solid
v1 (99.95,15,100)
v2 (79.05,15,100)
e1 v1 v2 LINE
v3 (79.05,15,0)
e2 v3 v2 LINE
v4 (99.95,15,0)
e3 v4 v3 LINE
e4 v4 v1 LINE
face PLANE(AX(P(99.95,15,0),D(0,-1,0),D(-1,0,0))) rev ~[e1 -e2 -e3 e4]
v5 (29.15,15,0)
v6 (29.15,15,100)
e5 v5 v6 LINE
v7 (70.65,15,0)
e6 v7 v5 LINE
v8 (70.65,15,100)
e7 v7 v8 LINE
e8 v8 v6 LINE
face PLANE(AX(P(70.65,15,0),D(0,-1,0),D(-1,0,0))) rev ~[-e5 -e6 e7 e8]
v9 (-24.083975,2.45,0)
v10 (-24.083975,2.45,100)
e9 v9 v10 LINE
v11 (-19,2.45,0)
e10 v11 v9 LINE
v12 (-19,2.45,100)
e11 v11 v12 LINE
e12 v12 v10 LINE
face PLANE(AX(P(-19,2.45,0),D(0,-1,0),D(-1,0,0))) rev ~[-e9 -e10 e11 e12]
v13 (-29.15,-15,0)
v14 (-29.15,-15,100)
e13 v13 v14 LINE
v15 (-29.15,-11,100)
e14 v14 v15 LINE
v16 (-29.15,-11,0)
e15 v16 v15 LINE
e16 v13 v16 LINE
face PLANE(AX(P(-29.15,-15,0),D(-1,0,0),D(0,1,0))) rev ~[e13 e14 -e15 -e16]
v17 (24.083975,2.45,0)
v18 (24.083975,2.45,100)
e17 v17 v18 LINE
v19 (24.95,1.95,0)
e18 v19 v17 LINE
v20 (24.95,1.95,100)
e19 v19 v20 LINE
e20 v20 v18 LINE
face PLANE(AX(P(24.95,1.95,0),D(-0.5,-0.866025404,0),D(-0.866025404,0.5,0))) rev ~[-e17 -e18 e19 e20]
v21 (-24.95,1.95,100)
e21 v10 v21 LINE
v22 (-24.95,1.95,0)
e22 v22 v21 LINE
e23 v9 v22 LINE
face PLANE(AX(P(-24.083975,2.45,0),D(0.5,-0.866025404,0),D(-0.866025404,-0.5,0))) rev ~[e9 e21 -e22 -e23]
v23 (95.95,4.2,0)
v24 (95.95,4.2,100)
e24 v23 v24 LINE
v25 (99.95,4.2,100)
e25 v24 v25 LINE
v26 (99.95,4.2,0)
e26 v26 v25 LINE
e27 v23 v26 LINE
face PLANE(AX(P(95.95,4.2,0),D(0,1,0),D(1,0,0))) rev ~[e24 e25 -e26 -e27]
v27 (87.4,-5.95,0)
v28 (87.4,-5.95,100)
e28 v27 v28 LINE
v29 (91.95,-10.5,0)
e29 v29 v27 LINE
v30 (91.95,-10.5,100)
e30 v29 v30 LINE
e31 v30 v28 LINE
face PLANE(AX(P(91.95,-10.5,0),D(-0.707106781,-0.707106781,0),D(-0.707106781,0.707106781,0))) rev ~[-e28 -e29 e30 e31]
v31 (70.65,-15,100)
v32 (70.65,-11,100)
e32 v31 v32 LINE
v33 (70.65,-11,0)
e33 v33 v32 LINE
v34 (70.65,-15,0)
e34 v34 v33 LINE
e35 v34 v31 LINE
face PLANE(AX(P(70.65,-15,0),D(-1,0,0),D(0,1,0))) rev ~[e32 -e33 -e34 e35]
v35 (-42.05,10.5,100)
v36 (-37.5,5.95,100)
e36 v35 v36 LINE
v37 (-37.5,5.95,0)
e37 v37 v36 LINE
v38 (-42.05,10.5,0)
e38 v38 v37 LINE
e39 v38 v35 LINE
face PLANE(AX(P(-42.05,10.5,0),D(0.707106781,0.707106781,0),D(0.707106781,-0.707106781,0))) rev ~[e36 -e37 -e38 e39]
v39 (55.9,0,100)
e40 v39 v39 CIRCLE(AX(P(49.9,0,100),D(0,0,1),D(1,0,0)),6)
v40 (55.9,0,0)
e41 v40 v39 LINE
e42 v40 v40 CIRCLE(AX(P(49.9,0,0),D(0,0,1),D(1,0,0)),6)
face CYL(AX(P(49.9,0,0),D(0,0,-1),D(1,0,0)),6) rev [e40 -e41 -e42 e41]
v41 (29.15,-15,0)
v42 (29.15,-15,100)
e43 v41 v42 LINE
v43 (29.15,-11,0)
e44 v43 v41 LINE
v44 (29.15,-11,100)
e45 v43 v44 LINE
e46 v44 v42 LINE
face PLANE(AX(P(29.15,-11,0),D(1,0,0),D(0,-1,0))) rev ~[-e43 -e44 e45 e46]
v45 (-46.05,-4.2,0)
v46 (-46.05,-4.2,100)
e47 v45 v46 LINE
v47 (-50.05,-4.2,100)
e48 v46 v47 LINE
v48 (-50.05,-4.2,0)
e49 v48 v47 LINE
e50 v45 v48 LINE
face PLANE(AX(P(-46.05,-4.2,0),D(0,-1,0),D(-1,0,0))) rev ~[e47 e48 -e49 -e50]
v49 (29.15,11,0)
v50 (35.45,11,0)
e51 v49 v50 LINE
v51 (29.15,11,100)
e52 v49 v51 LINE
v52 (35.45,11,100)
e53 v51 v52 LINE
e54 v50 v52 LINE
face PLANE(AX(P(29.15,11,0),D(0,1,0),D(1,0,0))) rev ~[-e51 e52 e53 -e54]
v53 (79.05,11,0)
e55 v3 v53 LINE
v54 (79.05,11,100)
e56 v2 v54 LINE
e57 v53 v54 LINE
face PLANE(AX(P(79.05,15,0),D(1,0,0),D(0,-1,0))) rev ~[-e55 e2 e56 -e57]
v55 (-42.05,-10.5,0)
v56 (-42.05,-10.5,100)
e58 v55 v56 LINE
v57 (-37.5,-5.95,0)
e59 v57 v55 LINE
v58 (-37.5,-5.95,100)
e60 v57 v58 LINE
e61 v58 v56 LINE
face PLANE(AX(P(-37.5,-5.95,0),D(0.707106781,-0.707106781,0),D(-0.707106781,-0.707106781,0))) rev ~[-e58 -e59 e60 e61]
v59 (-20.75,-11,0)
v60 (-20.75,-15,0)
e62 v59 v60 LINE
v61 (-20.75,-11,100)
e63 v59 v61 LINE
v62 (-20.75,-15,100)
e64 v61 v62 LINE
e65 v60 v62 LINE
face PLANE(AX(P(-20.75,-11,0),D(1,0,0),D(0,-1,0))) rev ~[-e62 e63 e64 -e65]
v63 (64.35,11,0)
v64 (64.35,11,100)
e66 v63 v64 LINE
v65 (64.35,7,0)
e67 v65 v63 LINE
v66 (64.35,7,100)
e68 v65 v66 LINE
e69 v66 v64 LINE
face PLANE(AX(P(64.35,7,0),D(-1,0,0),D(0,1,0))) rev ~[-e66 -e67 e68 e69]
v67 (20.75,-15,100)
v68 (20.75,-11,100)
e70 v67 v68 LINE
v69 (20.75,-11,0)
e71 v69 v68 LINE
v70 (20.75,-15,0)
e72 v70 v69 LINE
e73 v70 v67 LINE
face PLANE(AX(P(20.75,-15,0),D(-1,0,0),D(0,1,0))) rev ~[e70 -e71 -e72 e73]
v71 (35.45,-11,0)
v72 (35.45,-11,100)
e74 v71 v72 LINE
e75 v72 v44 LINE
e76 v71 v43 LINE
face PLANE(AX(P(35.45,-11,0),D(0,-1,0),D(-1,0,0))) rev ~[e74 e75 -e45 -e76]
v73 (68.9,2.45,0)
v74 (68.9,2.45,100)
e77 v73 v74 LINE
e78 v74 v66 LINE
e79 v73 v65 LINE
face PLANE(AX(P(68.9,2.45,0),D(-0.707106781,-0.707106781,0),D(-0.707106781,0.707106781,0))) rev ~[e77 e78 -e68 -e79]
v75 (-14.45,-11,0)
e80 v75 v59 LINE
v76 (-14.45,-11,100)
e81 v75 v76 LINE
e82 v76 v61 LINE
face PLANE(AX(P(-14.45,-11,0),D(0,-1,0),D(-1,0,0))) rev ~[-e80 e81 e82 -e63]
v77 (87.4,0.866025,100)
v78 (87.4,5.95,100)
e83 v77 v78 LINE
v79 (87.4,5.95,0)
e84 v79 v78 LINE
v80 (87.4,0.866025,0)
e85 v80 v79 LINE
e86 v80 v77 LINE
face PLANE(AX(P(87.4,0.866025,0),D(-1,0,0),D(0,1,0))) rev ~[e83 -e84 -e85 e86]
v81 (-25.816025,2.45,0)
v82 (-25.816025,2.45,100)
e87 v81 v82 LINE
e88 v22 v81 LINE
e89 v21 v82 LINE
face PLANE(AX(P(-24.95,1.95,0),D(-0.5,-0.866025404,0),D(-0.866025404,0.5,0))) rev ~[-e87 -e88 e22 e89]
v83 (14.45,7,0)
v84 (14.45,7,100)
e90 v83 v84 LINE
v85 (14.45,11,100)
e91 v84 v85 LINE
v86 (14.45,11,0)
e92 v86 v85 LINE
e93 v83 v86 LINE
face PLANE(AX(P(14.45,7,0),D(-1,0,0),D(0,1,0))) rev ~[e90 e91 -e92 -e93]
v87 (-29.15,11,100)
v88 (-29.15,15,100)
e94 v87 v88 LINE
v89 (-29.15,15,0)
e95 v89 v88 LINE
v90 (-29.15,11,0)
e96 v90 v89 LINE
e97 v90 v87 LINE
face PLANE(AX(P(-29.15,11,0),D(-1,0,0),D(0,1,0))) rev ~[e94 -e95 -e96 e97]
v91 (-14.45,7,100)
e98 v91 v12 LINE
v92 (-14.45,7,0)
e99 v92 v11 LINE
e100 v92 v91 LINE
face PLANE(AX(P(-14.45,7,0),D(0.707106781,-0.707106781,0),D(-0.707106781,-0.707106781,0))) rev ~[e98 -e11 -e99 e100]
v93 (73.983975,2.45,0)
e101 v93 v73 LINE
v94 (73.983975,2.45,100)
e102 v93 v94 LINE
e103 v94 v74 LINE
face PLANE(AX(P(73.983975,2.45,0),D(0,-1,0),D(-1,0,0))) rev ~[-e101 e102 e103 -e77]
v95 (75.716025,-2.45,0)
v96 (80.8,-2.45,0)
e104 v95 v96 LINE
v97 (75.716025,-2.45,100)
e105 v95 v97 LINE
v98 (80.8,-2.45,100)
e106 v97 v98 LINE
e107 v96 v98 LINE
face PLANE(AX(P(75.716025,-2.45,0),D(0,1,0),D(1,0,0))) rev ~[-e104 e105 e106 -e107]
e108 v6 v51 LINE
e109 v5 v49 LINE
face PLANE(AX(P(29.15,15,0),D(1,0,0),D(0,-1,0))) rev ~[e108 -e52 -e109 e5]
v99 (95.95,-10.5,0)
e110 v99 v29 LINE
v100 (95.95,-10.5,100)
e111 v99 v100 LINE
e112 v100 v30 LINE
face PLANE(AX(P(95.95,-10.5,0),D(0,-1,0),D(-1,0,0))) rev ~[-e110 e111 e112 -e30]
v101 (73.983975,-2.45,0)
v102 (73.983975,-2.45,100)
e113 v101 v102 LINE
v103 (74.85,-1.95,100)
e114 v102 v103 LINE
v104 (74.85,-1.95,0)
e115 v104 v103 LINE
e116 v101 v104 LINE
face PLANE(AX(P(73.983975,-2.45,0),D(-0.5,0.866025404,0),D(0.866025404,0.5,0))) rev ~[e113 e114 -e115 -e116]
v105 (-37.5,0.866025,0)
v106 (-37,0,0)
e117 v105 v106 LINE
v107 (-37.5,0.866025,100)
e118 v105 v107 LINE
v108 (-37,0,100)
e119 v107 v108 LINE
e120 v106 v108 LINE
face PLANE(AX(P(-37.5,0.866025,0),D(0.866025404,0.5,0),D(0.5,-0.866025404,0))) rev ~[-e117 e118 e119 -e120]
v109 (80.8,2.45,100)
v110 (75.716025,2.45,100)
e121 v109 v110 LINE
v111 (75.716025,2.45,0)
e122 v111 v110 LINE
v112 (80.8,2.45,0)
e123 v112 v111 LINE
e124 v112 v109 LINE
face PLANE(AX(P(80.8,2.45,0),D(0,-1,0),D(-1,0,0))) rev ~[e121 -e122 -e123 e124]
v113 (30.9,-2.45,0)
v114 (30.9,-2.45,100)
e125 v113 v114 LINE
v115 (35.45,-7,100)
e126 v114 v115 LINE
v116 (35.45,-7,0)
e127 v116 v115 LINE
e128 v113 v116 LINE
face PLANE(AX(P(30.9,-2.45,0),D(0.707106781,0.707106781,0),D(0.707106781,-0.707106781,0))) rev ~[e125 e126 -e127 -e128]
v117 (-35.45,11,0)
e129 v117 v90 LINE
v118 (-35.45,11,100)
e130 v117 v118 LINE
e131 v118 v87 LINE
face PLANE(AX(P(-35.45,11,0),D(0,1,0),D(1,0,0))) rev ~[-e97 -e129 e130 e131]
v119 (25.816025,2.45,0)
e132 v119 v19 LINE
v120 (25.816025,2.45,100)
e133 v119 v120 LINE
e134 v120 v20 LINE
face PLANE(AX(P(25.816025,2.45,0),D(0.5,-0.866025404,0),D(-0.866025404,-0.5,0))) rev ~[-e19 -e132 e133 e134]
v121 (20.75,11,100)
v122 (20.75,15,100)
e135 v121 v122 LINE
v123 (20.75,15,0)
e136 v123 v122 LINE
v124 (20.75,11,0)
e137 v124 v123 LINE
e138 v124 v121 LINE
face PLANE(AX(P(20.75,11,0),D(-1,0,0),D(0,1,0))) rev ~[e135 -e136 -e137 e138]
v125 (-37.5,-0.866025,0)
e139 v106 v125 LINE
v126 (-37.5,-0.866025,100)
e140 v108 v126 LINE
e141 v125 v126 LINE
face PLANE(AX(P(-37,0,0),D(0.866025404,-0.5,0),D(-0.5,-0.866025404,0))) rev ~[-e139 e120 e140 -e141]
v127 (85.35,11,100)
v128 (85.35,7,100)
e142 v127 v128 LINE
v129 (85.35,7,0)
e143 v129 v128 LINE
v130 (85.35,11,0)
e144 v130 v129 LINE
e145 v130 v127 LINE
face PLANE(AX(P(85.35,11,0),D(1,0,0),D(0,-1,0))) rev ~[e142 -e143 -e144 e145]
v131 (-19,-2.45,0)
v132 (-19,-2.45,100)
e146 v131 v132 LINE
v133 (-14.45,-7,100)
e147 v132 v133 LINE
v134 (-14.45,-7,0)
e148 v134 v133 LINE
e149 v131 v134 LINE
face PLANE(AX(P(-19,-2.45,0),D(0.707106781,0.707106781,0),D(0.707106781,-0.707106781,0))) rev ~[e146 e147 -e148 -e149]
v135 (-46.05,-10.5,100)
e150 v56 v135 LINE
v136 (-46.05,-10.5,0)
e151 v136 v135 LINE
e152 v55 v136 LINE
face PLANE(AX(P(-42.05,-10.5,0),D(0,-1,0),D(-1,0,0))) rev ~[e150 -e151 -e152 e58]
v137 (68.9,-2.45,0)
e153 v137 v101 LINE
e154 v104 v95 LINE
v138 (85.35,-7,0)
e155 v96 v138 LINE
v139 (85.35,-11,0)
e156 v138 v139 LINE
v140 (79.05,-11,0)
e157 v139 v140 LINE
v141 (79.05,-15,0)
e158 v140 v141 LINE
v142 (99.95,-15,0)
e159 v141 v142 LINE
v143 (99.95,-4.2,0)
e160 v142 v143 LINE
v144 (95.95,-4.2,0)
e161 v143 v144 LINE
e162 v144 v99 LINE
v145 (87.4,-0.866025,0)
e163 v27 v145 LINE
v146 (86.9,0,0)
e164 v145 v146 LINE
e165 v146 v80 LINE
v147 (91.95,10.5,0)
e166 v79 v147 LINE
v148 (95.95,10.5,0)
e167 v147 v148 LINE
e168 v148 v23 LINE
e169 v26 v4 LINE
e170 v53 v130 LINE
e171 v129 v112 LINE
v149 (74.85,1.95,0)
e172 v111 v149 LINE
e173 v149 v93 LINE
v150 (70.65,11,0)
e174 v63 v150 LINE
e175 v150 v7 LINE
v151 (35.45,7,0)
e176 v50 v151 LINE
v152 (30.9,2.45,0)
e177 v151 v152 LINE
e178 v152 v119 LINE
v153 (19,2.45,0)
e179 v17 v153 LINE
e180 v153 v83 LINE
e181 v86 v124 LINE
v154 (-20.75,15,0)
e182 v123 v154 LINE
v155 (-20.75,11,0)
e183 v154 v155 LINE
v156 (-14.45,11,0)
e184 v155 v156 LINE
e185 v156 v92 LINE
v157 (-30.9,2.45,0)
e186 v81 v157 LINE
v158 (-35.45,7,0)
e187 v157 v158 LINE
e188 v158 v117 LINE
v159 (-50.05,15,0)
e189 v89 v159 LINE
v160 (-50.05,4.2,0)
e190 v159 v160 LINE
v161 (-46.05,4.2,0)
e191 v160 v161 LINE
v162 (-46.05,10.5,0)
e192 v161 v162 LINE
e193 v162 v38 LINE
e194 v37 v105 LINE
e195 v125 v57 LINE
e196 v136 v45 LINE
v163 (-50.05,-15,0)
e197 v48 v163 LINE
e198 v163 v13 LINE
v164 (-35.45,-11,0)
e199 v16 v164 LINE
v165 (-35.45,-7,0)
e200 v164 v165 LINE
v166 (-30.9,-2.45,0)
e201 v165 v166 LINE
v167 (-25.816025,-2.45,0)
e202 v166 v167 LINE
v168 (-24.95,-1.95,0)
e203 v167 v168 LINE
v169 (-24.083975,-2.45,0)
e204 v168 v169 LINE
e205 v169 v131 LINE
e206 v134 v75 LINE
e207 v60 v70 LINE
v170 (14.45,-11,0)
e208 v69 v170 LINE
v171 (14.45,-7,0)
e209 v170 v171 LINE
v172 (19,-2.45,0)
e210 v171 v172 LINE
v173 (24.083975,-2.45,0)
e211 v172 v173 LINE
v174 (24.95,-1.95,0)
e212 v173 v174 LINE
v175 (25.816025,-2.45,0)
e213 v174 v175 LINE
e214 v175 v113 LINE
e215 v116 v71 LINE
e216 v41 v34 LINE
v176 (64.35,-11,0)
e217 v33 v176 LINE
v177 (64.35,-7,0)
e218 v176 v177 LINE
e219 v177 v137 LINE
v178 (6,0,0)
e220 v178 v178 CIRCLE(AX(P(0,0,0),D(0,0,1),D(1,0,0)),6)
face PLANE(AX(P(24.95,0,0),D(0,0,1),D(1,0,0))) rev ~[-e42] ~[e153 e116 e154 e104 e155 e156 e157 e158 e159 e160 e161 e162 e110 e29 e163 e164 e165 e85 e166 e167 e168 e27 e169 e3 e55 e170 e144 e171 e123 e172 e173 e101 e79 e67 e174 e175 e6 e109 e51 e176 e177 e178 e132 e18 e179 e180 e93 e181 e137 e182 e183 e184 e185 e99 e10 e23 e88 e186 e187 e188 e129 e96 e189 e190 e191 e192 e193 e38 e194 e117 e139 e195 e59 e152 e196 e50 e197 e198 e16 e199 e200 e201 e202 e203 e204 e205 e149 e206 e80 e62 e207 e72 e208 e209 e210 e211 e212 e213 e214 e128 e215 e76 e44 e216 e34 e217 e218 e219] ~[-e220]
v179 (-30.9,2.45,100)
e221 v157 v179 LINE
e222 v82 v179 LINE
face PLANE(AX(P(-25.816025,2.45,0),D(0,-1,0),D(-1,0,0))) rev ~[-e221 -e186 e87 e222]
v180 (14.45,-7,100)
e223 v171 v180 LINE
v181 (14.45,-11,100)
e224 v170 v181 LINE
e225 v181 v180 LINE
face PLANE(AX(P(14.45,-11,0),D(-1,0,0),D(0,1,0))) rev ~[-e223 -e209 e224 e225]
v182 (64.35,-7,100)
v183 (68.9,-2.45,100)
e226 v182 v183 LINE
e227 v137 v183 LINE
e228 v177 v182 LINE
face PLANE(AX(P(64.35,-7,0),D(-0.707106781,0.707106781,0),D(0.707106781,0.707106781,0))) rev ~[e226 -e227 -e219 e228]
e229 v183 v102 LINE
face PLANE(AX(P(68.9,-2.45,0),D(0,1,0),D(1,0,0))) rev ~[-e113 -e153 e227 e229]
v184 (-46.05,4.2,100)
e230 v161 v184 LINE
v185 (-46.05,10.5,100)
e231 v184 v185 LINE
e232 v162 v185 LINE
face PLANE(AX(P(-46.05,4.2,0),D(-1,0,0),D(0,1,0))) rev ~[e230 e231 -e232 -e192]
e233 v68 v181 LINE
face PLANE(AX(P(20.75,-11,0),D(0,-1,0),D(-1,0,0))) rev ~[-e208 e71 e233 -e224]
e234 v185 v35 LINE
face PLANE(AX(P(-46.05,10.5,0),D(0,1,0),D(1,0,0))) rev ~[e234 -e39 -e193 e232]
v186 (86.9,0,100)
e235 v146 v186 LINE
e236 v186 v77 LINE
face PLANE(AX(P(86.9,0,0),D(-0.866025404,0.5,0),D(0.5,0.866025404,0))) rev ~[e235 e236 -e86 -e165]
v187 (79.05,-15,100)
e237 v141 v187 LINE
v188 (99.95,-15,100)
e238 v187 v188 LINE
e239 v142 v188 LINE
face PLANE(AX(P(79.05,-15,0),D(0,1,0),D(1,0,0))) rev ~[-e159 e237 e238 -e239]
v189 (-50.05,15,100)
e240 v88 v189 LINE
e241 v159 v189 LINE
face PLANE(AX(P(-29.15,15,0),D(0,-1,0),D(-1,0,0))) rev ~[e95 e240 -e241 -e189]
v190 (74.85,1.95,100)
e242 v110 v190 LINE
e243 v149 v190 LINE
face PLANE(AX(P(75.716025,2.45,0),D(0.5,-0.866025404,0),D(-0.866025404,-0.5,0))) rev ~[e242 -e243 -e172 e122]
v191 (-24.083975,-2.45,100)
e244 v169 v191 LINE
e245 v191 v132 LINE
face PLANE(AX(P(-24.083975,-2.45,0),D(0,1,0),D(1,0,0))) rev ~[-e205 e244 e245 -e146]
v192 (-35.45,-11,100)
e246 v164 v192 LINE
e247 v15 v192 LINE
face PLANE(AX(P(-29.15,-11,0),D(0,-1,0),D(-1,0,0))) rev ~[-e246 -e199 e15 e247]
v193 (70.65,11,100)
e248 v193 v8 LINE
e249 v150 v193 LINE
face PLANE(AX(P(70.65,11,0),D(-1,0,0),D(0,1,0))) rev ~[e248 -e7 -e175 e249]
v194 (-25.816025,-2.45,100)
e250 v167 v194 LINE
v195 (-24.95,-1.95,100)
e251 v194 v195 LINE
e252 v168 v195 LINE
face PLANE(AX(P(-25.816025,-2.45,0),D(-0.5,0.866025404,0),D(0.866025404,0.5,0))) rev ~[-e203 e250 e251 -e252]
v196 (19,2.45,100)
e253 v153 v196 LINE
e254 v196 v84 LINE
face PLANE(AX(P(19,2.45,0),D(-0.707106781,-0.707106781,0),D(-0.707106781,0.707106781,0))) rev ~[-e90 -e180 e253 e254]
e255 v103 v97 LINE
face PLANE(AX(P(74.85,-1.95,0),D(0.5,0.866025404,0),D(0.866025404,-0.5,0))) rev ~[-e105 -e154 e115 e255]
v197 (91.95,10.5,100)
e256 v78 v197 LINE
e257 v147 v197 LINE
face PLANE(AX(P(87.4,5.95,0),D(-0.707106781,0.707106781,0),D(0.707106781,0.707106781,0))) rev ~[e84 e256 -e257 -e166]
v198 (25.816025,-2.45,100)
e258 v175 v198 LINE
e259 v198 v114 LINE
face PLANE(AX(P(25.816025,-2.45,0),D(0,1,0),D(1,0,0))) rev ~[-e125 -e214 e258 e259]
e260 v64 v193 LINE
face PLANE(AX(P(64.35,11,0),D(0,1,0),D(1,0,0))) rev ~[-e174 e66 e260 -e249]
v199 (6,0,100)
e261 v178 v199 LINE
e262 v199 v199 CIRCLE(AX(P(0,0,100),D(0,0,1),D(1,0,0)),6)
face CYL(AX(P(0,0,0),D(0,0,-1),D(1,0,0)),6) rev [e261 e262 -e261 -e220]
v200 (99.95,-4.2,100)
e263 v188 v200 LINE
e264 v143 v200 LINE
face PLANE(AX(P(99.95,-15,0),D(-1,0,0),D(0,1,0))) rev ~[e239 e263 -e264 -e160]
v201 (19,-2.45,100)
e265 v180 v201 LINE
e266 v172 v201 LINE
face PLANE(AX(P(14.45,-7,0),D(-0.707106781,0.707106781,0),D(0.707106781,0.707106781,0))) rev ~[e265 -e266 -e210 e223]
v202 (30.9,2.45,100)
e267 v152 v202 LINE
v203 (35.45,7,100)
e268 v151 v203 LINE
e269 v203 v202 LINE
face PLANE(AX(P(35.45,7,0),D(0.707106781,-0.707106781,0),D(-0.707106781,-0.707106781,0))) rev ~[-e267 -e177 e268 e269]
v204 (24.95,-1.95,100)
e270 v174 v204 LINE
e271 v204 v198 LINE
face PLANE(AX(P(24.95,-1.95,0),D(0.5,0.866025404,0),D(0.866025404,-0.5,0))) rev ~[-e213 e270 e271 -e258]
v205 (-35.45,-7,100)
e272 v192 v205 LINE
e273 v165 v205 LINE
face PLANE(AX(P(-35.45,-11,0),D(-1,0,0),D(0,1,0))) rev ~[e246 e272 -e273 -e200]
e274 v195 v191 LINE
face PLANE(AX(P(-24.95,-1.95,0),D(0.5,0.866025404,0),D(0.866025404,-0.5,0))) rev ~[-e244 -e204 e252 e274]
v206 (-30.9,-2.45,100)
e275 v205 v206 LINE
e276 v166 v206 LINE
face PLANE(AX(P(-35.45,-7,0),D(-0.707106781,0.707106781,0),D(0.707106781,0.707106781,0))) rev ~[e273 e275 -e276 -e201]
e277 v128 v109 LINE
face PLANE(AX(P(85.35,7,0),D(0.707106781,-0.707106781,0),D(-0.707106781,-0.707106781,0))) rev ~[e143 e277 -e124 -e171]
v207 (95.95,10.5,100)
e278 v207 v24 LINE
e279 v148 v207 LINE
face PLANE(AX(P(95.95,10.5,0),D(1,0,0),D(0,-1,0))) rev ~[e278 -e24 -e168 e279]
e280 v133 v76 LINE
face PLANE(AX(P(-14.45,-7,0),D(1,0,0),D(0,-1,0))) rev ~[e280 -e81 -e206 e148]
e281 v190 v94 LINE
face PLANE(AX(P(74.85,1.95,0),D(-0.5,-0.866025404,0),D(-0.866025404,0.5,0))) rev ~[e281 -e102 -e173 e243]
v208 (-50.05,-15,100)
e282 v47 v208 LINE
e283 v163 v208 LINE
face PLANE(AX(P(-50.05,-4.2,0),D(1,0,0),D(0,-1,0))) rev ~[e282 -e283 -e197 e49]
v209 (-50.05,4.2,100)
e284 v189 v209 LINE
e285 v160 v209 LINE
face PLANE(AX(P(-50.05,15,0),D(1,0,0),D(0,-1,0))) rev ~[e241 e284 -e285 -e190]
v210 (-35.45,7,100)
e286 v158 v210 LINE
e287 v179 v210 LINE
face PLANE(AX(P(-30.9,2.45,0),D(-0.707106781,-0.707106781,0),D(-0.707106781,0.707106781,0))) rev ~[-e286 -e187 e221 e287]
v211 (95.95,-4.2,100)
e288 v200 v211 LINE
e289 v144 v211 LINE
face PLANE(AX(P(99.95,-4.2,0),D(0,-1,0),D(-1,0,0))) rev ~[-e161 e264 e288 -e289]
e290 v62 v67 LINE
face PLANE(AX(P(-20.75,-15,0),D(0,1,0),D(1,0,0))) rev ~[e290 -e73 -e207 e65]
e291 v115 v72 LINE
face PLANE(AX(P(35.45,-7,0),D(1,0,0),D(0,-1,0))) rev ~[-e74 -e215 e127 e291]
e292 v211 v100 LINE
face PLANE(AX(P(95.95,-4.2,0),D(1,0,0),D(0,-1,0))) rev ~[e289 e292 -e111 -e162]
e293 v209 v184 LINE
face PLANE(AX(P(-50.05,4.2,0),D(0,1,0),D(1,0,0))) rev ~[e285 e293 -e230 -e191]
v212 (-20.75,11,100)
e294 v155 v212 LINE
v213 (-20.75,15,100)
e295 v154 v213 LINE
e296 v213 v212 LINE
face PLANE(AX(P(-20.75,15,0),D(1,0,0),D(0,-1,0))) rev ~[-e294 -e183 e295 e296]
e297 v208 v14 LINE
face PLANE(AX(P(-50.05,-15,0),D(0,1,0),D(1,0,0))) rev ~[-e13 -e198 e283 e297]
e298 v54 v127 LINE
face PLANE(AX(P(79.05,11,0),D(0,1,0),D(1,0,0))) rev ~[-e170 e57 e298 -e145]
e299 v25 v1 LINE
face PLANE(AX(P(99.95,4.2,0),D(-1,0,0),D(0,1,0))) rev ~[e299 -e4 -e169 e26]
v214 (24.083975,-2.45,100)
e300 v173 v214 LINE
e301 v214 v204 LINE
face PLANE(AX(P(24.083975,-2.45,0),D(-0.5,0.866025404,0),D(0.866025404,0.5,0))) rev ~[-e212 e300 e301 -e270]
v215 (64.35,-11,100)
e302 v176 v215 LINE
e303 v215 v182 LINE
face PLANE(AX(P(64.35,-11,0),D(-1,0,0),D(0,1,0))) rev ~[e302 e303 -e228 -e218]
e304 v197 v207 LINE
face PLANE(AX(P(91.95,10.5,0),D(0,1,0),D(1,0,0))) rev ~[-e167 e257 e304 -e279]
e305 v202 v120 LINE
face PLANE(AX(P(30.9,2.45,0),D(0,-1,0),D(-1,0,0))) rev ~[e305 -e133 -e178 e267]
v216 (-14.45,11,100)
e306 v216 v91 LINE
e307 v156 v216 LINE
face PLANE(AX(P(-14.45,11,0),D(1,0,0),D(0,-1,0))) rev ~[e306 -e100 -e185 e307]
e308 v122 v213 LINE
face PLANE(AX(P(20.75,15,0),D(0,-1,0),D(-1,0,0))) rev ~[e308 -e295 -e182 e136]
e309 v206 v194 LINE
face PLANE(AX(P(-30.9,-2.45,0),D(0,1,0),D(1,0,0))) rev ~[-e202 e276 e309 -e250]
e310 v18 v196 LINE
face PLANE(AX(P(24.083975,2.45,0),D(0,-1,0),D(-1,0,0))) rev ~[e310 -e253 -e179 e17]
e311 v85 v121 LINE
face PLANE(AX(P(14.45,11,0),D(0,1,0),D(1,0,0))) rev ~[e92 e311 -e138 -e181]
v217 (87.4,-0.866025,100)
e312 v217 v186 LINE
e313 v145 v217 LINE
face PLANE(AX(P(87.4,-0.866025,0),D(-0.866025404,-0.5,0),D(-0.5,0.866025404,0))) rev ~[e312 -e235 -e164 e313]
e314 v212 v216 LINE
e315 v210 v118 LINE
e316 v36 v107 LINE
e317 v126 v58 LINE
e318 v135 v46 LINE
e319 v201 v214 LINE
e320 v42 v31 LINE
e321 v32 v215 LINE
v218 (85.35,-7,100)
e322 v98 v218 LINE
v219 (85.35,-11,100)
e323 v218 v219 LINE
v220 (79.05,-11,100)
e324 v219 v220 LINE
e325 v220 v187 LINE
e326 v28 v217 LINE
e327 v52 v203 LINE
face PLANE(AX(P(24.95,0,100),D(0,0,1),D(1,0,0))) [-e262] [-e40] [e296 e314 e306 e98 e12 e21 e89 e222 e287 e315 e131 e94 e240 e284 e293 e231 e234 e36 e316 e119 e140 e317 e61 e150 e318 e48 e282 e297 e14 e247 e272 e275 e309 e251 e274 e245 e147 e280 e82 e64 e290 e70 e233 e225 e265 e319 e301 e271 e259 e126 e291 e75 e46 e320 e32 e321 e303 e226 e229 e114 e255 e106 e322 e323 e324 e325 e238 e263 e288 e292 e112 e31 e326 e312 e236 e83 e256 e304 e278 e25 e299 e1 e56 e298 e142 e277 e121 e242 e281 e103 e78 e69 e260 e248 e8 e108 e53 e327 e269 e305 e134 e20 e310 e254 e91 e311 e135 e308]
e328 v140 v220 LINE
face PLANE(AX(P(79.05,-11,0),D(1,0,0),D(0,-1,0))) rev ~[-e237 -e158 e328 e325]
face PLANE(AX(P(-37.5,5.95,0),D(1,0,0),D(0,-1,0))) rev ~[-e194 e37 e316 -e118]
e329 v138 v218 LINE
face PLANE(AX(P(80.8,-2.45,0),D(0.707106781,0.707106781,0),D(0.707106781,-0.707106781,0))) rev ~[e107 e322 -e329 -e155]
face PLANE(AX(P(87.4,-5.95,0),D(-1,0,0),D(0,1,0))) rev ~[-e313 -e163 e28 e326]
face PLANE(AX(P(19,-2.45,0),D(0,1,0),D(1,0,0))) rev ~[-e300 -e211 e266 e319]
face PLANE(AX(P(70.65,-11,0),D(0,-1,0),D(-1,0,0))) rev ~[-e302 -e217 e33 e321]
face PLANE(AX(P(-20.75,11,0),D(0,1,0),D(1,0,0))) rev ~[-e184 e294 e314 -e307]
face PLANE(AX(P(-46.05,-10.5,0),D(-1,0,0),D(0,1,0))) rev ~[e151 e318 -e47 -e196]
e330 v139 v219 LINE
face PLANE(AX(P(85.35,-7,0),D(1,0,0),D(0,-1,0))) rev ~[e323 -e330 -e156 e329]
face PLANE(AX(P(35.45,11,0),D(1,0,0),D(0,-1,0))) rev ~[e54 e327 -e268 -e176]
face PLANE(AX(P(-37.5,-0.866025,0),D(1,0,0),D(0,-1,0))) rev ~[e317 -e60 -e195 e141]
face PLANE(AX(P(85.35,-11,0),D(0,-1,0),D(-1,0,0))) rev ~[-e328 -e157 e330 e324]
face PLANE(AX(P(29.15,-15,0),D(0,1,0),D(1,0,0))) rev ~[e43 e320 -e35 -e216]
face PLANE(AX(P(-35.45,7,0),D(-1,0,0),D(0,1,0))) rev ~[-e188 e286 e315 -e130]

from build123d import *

# Parameters (mm, degrees)
SKETCH_1_R      = 6
EXTRUDE_1_DEPTH = 100


with BuildPart() as part:
    # 草图1 → 凸台-拉伸1 (new body)
    with BuildSketch(Plane.XY):
        Polygon((99.95, 4.2), (99.95, 15), (79.05, 15), (79.05, 11), (85.35, 11), (85.35, 7), (80.8, 2.45), (75.716025404, 2.45), (74.85, 1.95), (73.983974596, 2.45), (68.9, 2.45), (64.35, 7), (64.35, 11), (70.65, 11), (70.65, 15), (29.15, 15), (29.15, 11), (35.45, 11), (35.45, 7), (30.9, 2.45), (25.816025404, 2.45), (24.95, 1.95), (24.083974596, 2.45), (19, 2.45), (14.45, 7), (14.45, 11), (20.75, 11), (20.75, 15), (-20.75, 15), (-20.75, 11), (-14.45, 11), (-14.45, 7), (-19, 2.45), (-24.083974596, 2.45), (-24.95, 1.95), (-25.816025404, 2.45), (-30.9, 2.45), (-35.45, 7), (-35.45, 11), (-29.15, 11), (-29.15, 15), (-50.05, 15), (-50.05, 4.2), (-46.05, 4.2), (-46.05, 10.5), (-42.05, 10.5), (-37.5, 5.95), (-37.5, 0.866025404), (-37, 0), (-37.5, -0.866025404), (-37.5, -5.95), (-42.05, -10.5), (-46.05, -10.5), (-46.05, -4.2), (-50.05, -4.2), (-50.05, -15), (-29.15, -15), (-29.15, -11), (-35.45, -11), (-35.45, -7), (-30.9, -2.45), (-25.816025404, -2.45), (-24.95, -1.95), (-24.083974596, -2.45), (-19, -2.45), (-14.45, -7), (-14.45, -11), (-20.75, -11), (-20.75, -15), (20.75, -15), (20.75, -11), (14.45, -11), (14.45, -7), (19, -2.45), (24.083974596, -2.45), (24.95, -1.95), (25.816025404, -2.45), (30.9, -2.45), (35.45, -7), (35.45, -11), (29.15, -11), (29.15, -15), (70.65, -15), (70.65, -11), (64.35, -11), (64.35, -7), (68.9, -2.45), (73.983974596, -2.45), (74.85, -1.95), (75.716025404, -2.45), (80.8, -2.45), (85.35, -7), (85.35, -11), (79.05, -11), (79.05, -15), (99.95, -15), (99.95, -4.2), (95.95, -4.2), (95.95, -10.5), (91.95, -10.5), (87.4, -5.95), (87.4, -0.866025404), (86.9, 0), (87.4, 0.866025404), (87.4, 5.95), (91.95, 10.5), (95.95, 10.5), (95.95, 4.2), align=None)
        Circle(SKETCH_1_R, mode=Mode.SUBTRACT)
        with Locations((49.9, 0)):
            Circle(SKETCH_1_R, mode=Mode.SUBTRACT)
    extrude(amount=EXTRUDE_1_DEPTH)


solid = part.part
